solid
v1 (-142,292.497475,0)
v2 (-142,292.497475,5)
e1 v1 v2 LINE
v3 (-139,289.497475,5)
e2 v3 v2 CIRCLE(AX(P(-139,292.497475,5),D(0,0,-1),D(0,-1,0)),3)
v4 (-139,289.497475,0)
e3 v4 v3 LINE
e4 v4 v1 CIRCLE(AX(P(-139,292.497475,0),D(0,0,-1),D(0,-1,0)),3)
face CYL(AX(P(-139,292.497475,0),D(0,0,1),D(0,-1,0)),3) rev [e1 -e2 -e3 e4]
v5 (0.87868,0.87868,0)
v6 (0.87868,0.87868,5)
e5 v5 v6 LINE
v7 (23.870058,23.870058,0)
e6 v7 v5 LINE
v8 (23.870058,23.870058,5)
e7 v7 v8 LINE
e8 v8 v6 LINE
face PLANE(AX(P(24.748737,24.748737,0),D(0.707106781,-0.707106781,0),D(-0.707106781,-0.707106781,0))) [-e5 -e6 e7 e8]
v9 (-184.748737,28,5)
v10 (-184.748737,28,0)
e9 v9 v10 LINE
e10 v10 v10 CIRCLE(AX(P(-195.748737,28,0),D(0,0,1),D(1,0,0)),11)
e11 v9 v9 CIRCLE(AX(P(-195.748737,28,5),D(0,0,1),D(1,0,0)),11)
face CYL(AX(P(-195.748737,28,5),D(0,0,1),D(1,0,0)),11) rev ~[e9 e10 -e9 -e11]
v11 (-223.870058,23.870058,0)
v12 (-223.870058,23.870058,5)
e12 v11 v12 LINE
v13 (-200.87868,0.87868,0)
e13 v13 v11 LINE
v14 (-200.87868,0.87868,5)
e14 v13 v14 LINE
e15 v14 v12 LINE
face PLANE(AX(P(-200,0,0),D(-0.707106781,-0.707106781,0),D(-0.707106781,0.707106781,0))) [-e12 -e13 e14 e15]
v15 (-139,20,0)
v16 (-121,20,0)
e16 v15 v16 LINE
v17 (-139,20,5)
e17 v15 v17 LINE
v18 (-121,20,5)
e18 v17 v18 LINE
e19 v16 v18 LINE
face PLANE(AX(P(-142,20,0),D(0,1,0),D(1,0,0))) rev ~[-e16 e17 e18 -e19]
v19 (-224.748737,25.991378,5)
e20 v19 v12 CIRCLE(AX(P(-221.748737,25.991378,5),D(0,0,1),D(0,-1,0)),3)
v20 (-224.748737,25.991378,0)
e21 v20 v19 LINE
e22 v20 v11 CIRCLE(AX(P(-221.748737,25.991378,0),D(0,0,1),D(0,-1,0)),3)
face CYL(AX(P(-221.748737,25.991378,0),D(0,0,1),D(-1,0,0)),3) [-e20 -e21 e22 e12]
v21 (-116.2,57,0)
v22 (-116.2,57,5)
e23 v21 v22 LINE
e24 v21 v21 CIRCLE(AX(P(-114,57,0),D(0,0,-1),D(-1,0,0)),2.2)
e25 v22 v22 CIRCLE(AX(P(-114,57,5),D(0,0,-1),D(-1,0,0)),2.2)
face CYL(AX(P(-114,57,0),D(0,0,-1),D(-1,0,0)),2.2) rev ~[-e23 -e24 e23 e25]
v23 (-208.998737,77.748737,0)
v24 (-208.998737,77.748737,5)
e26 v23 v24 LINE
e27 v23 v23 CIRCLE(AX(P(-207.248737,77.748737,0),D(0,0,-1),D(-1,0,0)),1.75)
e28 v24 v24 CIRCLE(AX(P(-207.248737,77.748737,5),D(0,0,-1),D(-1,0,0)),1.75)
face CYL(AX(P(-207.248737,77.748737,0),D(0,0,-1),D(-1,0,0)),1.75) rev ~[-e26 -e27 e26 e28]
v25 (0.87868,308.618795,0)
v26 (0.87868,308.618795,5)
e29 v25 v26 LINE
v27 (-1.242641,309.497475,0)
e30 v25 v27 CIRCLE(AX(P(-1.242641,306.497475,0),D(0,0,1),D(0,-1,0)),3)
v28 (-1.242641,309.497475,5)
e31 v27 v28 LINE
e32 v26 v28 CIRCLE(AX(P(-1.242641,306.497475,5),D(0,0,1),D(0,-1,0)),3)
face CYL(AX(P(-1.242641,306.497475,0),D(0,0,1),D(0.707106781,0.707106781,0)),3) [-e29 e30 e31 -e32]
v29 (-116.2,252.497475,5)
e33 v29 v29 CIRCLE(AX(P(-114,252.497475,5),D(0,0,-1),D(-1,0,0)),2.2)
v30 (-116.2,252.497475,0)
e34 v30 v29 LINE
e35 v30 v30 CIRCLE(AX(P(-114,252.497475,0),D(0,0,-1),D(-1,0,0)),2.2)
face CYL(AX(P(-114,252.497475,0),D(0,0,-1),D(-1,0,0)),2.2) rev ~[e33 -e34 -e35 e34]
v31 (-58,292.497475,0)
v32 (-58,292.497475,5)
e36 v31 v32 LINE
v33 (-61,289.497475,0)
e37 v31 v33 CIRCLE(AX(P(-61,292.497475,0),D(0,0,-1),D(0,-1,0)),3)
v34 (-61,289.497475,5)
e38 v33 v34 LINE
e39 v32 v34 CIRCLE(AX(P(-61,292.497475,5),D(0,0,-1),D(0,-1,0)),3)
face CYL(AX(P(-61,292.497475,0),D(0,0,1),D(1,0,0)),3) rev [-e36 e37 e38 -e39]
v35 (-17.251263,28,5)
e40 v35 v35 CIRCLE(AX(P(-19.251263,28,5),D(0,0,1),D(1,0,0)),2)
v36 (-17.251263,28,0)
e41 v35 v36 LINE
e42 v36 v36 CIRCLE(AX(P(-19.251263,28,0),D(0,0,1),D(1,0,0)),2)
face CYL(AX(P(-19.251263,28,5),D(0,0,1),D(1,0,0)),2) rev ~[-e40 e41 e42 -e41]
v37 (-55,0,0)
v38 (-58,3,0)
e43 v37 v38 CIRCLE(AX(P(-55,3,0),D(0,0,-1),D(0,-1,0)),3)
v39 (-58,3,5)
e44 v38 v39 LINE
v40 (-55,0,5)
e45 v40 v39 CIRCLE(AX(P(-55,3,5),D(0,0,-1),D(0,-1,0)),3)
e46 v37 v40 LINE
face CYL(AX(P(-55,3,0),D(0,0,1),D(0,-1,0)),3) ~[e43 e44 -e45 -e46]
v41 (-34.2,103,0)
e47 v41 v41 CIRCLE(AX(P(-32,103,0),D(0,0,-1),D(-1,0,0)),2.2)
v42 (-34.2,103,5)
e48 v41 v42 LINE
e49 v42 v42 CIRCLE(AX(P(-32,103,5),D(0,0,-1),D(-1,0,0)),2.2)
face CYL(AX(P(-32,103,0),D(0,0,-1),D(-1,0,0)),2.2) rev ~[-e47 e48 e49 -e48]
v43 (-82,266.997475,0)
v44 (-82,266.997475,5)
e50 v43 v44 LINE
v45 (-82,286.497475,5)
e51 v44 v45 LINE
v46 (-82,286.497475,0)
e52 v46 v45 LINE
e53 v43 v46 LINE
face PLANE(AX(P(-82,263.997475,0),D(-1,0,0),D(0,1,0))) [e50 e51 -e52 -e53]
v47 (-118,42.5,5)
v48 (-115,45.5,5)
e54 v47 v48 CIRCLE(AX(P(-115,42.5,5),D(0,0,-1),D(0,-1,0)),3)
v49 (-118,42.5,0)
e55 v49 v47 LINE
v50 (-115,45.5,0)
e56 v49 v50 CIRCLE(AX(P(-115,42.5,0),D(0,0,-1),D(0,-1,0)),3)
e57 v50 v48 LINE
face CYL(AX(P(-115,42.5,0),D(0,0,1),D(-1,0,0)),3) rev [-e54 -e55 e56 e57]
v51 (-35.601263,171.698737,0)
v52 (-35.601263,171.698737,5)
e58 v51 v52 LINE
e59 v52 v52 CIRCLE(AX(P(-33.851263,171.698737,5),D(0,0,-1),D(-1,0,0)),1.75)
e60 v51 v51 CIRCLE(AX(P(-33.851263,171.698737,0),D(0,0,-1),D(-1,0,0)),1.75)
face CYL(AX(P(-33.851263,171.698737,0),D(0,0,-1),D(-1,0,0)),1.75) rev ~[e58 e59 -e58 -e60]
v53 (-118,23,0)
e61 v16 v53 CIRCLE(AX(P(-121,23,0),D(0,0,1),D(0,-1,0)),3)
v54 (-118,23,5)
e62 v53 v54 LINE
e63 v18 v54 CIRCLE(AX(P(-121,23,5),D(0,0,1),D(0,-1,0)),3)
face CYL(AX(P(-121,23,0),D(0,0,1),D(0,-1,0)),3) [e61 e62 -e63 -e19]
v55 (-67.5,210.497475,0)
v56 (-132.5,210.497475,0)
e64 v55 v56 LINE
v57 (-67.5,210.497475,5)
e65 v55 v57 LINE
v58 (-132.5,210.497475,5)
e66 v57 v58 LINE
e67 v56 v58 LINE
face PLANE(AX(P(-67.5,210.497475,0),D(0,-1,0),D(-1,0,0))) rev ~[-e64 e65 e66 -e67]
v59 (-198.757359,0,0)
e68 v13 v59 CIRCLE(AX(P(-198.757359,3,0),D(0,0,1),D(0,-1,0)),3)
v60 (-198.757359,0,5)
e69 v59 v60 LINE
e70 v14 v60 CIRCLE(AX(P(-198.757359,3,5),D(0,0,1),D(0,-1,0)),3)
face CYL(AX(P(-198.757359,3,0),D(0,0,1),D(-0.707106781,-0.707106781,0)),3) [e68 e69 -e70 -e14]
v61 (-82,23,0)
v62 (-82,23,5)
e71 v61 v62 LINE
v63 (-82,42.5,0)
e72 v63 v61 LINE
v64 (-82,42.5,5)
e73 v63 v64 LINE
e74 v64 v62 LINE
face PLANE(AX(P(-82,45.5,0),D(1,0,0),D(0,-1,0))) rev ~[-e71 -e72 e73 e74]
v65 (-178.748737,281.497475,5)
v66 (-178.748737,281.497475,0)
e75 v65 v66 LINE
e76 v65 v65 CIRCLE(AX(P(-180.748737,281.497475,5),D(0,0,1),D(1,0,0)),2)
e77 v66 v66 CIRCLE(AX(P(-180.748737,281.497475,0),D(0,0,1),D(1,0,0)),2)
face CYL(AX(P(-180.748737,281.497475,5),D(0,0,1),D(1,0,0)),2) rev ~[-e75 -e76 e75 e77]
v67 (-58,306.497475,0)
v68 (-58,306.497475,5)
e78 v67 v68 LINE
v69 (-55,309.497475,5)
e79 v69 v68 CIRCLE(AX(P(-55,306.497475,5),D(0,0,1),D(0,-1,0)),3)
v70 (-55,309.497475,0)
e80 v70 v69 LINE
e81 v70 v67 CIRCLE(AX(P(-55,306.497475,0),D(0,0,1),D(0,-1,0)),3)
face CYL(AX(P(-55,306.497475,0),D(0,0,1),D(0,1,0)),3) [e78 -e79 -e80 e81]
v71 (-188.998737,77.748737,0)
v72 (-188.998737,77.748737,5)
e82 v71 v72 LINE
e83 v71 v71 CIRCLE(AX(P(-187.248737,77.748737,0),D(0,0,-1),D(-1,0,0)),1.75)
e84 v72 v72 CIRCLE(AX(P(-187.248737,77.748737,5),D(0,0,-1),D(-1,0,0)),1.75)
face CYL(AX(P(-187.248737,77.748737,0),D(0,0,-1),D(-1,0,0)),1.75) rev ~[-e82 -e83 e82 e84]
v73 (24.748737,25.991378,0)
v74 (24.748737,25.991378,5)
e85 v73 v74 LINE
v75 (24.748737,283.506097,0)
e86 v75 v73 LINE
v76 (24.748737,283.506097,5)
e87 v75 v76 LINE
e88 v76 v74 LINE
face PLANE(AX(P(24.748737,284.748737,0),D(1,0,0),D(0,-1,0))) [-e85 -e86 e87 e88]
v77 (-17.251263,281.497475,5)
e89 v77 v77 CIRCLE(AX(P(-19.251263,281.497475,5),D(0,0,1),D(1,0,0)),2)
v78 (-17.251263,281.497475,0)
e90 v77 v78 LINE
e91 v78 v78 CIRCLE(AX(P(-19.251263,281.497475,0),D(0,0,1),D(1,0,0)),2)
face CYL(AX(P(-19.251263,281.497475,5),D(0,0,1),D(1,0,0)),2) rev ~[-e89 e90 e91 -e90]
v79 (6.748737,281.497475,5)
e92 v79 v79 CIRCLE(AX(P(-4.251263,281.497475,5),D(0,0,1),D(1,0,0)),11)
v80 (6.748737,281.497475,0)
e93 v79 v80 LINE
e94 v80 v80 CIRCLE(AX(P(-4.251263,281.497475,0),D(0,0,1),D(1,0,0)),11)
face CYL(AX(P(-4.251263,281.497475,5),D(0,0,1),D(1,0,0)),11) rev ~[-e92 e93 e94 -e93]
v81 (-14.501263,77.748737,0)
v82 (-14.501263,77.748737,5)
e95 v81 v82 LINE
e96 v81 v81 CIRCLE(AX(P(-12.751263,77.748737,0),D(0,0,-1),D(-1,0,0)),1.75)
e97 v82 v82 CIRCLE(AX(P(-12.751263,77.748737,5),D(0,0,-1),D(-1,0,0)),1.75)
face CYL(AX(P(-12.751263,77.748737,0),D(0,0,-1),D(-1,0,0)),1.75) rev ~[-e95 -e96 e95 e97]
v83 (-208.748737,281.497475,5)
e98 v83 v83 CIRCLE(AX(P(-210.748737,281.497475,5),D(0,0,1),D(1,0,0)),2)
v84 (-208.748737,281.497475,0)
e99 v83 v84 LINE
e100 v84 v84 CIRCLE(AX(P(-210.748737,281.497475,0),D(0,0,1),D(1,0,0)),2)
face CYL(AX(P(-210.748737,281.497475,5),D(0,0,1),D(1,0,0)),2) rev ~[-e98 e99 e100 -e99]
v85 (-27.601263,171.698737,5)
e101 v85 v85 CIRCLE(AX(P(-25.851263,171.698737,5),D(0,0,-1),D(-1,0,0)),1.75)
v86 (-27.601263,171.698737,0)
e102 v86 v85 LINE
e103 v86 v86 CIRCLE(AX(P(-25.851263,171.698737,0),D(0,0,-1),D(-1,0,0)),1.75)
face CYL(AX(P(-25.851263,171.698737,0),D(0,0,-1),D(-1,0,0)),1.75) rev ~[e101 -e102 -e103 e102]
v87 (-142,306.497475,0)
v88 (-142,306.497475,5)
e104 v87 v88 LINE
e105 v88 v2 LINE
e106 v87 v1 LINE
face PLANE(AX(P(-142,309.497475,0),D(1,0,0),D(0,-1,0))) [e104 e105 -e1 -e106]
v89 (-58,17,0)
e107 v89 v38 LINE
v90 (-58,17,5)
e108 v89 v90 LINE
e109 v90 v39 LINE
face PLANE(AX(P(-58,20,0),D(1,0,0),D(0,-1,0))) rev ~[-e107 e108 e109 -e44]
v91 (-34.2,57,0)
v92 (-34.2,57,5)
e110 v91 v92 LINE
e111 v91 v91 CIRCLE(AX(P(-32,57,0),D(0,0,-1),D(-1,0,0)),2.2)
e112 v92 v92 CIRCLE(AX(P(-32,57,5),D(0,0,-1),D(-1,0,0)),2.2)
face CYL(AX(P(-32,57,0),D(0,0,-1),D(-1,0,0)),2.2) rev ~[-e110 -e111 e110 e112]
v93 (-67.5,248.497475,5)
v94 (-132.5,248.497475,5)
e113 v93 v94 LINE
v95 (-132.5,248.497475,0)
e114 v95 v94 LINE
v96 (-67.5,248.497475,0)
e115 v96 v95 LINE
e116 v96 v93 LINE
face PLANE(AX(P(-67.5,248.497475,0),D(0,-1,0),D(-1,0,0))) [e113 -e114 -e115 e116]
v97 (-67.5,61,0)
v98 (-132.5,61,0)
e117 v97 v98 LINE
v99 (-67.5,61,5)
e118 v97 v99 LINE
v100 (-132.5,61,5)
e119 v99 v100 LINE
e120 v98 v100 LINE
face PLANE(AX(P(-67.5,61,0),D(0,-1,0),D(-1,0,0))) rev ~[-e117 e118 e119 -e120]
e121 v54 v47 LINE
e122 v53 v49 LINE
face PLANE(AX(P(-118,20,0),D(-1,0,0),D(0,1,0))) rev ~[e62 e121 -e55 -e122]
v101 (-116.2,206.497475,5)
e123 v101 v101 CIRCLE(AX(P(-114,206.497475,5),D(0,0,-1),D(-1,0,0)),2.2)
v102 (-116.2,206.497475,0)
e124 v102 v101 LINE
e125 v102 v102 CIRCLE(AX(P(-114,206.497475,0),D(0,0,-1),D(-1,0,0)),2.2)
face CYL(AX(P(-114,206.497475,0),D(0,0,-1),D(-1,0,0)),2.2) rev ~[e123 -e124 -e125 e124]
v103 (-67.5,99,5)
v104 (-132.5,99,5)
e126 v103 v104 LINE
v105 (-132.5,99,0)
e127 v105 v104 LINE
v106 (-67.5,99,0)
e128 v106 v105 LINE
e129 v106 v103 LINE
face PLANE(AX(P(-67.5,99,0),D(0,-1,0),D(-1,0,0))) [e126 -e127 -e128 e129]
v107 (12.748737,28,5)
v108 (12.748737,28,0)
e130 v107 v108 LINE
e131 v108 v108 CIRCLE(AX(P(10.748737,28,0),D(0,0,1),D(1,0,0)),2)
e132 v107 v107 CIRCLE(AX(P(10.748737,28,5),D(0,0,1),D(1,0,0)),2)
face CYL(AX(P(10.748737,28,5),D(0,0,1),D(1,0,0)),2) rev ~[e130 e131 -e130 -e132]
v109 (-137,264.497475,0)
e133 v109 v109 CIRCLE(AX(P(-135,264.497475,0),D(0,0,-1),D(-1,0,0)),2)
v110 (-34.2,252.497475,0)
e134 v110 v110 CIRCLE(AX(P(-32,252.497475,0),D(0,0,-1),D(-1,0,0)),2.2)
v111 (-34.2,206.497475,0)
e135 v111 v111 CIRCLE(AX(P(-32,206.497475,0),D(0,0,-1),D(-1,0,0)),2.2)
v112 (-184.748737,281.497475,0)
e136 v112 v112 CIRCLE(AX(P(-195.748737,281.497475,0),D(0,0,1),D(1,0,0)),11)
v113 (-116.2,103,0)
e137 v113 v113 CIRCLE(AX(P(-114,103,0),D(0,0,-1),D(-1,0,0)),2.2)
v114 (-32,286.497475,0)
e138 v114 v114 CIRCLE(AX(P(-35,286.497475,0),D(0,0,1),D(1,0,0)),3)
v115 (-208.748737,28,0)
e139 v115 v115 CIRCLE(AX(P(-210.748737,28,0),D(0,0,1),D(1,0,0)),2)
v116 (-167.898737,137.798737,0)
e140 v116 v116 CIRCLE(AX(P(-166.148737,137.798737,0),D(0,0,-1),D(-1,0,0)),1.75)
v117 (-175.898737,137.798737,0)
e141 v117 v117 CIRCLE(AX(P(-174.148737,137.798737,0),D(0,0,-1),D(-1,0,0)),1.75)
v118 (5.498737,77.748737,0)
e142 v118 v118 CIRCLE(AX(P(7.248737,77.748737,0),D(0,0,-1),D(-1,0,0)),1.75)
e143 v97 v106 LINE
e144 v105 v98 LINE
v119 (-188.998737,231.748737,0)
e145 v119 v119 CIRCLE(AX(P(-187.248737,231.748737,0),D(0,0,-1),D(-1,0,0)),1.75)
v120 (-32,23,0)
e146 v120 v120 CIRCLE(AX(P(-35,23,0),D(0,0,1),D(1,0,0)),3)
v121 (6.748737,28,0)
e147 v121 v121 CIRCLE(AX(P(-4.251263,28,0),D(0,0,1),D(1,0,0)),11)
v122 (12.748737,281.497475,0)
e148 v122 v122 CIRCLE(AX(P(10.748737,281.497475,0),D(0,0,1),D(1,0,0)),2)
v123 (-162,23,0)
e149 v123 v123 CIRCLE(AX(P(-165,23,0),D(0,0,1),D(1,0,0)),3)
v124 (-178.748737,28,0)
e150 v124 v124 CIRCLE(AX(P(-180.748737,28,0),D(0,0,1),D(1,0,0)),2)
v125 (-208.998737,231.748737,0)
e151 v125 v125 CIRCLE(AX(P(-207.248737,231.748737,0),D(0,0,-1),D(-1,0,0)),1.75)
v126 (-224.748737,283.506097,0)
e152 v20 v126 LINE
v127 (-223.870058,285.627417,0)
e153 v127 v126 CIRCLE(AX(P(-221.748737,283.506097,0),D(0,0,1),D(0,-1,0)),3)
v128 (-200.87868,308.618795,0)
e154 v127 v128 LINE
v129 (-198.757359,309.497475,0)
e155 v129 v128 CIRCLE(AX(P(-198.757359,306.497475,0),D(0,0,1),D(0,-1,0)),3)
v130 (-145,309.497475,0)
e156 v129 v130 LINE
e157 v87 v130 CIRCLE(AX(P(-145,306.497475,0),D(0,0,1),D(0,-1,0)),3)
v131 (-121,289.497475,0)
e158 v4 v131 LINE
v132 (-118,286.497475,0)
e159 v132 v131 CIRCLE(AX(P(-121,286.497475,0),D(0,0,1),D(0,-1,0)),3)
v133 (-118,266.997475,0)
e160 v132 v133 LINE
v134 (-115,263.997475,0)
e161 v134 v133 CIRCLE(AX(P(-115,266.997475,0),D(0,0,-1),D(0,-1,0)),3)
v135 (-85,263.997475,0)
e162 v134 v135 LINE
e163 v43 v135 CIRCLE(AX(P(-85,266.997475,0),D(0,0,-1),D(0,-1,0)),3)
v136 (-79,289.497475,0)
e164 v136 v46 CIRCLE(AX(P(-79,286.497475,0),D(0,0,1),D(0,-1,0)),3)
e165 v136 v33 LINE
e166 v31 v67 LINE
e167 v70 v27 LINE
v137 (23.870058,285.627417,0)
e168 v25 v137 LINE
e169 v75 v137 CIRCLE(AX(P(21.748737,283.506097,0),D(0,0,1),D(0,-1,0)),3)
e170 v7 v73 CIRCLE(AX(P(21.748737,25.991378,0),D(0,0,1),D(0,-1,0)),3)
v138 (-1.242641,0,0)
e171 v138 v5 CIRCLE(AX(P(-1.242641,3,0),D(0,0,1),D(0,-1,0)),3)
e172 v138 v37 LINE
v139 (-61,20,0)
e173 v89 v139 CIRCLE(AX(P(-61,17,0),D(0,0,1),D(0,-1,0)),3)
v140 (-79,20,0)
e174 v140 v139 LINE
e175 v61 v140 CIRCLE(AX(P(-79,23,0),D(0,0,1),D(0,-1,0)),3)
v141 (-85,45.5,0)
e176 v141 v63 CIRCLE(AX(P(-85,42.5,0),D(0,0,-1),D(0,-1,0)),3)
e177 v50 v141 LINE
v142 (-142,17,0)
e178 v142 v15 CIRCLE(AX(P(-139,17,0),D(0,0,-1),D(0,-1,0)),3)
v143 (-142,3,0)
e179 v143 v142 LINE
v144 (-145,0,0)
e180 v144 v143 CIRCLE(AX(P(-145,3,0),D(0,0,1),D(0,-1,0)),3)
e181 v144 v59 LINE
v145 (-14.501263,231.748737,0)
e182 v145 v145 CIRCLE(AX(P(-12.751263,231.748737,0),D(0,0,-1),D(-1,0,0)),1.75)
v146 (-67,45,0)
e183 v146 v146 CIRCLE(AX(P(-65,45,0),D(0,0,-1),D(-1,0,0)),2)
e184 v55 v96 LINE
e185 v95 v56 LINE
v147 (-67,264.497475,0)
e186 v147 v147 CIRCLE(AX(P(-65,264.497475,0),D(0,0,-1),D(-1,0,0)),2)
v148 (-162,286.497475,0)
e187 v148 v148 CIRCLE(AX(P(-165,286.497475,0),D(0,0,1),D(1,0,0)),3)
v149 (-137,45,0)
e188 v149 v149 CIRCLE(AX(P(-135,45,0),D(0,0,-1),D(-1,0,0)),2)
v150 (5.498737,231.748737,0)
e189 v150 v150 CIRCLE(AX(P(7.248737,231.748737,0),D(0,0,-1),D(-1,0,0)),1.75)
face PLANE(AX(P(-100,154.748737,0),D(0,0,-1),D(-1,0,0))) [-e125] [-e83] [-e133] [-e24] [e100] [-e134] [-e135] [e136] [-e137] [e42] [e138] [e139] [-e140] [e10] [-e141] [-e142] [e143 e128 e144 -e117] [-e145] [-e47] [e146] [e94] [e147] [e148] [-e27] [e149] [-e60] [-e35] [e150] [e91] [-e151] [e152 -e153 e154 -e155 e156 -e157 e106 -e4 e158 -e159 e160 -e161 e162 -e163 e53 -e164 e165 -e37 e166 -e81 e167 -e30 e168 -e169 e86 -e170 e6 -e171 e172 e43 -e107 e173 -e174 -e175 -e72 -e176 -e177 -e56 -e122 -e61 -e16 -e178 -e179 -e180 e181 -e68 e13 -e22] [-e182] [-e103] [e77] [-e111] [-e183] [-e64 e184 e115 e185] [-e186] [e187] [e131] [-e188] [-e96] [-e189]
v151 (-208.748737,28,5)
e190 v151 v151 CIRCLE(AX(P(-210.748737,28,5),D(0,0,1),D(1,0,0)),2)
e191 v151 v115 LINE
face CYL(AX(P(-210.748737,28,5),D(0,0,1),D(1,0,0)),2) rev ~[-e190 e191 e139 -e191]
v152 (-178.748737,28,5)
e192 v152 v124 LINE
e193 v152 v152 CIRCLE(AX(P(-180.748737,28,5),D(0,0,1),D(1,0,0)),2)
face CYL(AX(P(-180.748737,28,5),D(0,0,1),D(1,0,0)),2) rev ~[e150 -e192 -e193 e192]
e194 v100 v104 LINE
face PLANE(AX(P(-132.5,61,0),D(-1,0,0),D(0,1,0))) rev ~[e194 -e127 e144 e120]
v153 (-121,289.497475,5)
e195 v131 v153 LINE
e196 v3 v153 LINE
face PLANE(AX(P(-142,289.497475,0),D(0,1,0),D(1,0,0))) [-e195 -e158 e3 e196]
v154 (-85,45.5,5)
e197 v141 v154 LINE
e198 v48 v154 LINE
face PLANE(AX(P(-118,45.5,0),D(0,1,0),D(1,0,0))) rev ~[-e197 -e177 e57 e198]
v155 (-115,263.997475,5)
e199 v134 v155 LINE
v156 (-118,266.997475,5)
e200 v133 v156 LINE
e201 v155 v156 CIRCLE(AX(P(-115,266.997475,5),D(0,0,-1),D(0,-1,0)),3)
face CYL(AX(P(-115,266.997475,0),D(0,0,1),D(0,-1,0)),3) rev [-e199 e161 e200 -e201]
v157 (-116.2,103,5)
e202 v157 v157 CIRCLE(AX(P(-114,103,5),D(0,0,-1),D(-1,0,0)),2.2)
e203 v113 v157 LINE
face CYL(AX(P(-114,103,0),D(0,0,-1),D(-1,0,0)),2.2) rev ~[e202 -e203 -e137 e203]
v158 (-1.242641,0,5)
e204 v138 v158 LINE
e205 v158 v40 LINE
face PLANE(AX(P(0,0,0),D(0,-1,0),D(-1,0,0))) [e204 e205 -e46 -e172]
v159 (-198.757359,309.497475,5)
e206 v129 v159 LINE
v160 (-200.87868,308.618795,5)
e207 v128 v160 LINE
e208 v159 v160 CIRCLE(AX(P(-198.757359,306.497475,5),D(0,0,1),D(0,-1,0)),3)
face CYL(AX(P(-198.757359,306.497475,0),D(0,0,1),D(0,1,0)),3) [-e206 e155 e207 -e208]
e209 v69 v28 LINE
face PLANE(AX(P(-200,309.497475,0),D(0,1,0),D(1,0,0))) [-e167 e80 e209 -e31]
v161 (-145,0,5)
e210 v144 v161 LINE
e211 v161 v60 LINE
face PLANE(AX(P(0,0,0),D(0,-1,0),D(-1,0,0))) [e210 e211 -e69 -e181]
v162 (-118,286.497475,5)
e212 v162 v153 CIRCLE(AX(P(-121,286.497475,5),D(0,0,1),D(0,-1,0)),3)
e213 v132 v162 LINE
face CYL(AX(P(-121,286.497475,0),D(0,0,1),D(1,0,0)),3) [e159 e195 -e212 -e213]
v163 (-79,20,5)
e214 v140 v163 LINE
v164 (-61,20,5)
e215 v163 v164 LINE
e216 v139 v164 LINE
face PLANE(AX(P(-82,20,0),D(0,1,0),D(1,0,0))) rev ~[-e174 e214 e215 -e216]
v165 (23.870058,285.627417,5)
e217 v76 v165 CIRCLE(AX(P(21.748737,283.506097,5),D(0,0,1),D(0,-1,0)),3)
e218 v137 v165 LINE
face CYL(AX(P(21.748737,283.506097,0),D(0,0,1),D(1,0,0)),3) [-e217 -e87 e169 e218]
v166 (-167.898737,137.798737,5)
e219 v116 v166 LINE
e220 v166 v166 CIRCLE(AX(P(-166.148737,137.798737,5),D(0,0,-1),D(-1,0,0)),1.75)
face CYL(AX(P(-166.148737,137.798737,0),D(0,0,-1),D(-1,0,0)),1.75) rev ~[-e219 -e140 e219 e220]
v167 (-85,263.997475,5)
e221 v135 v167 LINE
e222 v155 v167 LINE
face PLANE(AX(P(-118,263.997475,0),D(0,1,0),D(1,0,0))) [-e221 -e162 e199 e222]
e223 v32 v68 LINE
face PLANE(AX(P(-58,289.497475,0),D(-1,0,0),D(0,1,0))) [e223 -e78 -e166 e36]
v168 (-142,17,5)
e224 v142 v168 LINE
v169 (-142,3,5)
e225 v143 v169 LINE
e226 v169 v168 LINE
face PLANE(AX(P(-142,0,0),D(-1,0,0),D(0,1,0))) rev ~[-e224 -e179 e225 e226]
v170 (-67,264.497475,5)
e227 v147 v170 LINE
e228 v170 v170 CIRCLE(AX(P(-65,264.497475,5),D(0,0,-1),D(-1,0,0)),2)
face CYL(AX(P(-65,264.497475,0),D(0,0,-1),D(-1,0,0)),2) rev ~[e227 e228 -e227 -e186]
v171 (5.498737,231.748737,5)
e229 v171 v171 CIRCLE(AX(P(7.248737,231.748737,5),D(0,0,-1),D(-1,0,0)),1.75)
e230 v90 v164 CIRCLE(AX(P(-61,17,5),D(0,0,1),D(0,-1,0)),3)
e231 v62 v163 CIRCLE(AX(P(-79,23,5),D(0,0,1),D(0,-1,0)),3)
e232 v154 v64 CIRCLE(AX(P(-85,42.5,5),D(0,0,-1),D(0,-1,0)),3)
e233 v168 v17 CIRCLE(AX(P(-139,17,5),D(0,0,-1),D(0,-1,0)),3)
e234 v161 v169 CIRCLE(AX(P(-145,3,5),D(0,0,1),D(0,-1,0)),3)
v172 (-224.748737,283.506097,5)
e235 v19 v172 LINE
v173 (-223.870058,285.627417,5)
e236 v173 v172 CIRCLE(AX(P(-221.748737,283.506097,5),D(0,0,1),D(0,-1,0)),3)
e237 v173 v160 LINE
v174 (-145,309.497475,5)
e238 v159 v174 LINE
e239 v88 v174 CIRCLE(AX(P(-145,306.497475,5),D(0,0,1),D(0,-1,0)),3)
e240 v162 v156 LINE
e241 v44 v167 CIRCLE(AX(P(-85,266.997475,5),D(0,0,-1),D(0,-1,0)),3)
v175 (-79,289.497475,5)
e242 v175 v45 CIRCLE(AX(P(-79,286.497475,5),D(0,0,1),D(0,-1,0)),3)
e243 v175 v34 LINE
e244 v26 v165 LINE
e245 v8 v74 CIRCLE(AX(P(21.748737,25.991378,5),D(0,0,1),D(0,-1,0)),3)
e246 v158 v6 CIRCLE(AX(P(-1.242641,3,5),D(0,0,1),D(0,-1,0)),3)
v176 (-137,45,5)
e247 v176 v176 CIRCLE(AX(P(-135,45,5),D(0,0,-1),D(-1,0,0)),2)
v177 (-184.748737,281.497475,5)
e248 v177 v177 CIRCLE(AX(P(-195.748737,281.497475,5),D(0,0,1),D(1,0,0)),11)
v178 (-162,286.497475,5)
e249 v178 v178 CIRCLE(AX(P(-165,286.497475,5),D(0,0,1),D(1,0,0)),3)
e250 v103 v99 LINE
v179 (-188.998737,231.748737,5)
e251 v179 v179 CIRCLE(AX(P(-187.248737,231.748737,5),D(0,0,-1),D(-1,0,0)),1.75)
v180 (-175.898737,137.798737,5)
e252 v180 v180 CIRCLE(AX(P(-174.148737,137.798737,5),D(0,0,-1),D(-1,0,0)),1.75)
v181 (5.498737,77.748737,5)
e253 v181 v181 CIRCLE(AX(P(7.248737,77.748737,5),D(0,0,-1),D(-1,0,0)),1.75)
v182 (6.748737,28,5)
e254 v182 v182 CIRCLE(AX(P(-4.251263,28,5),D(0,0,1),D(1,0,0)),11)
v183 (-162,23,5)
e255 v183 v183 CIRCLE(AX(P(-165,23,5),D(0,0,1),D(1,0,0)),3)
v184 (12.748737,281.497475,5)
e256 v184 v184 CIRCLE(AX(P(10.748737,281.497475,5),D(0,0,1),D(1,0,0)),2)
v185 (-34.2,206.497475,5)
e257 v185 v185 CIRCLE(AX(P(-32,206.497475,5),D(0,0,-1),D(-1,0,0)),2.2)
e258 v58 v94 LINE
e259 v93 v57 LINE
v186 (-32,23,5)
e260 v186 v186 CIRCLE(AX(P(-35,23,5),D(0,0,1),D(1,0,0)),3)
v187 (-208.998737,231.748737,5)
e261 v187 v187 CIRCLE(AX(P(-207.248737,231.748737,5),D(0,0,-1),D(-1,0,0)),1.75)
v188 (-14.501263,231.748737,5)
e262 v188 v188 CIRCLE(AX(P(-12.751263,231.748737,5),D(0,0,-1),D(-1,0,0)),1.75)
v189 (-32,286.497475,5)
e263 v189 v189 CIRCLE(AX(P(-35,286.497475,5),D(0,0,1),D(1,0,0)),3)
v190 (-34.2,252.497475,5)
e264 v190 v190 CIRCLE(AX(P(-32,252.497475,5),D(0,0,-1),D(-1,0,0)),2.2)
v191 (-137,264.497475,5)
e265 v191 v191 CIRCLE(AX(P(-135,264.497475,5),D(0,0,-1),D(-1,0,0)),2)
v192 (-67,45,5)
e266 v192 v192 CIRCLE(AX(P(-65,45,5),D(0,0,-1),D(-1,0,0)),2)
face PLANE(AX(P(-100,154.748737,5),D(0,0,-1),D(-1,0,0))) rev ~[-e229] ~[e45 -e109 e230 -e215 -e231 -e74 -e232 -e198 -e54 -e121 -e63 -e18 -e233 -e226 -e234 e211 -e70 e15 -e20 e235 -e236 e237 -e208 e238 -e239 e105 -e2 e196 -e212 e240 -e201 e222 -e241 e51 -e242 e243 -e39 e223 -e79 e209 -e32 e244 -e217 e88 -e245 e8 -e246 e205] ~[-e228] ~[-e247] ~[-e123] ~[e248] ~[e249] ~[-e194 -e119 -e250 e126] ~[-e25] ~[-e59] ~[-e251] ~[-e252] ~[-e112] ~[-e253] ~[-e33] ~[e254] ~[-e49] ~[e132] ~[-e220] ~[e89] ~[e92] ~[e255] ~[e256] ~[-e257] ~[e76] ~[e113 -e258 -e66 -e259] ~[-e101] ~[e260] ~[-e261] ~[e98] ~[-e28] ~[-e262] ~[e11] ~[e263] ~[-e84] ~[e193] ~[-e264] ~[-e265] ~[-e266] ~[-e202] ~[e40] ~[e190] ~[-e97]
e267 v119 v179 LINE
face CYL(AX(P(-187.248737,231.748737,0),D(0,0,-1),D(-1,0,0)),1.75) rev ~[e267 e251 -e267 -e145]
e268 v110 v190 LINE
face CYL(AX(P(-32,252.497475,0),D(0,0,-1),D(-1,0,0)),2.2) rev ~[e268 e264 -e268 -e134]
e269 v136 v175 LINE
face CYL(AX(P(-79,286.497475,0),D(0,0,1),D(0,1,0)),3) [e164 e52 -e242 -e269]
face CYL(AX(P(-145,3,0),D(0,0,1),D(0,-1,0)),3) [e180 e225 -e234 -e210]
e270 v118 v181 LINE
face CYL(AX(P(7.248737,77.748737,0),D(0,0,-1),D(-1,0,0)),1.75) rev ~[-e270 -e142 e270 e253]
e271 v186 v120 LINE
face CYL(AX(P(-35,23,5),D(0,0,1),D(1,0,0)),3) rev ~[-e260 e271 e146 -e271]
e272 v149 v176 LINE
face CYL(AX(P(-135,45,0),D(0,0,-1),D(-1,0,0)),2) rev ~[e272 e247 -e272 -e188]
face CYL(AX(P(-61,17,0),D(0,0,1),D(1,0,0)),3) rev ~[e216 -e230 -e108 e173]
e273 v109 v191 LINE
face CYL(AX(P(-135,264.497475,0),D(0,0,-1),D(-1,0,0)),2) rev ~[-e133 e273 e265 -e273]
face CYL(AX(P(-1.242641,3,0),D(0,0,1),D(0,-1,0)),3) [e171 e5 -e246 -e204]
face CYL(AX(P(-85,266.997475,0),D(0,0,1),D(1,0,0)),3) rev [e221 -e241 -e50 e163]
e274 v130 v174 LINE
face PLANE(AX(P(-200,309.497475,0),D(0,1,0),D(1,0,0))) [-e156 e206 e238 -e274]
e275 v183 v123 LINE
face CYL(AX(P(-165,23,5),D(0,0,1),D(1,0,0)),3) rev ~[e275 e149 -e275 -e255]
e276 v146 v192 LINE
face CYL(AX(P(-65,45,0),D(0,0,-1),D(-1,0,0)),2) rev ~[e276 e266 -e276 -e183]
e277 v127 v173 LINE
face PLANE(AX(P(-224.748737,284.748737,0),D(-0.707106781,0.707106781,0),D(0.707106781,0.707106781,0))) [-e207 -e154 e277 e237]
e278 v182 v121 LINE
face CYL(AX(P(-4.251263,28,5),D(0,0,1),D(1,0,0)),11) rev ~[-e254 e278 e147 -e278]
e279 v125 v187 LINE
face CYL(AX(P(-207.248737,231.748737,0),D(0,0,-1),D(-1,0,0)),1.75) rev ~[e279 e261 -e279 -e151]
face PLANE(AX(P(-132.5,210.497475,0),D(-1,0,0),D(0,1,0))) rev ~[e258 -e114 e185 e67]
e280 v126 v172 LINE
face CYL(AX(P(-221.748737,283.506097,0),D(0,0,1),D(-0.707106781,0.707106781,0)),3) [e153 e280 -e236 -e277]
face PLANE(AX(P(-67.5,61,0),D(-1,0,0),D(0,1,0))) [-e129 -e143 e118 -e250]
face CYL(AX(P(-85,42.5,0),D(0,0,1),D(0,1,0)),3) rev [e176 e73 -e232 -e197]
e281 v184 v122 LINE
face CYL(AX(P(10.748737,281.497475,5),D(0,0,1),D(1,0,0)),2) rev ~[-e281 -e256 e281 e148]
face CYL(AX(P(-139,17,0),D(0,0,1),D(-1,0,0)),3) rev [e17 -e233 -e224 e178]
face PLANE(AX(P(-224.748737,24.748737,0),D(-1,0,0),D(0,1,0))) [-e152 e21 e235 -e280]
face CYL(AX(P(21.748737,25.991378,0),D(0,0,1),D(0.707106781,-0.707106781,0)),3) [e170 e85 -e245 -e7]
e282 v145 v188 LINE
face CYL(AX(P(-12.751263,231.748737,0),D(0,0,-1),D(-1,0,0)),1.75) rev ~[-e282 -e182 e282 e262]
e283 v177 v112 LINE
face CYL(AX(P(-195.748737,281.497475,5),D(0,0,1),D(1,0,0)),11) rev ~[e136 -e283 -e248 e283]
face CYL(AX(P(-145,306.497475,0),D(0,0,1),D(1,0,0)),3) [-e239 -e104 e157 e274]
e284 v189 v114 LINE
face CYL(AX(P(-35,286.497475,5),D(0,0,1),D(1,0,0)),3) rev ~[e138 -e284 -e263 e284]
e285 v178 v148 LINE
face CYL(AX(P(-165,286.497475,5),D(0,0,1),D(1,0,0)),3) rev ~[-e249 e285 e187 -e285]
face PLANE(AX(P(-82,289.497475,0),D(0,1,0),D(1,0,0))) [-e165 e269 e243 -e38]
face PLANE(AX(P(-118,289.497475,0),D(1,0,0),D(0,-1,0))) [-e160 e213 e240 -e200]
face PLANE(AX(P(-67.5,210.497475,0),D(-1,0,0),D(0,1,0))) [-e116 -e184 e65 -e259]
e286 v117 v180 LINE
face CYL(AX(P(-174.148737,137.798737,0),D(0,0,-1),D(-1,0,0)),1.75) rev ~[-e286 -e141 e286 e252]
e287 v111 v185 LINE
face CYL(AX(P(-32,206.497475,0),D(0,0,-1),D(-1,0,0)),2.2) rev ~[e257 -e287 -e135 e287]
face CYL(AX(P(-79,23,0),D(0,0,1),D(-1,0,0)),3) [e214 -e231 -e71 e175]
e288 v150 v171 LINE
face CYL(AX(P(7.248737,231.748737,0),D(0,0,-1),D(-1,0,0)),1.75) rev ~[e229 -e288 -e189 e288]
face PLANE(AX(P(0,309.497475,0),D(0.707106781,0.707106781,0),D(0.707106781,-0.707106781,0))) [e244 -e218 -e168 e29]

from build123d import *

# Parameters (mm, degrees)
BASE_DEPTH                            = 5
ESQUISSE3_R                           = 2
ESQUISSE3_W                           = 65
ESQUISSE3_H                           = 30
PER_AGE_ROUES_ENCODEUSES_DEPTH        = 6
CONG_1_R                              = 3
PER_AGE_BILLES_PORTEUSES_REACH        = 7
ESQUISSE6_R                           = 2
ESQUISSE6_R_2                         = 11
PER_AGE_PROFIL_S_REACH                = 7
ESQUISSE8_R                           = 3
ESQUISSE15_R                          = 2.2
PER_AGE_BLOC_MOTEUR_DEPTH             = 5
ESQUISSE16_W                          = 65
ESQUISSE16_H                          = 38
ENL_V_MAT_EXTRU_1_DEPTH               = 6
ESQUISSE19_R                          = 1.75
PER_AGE_ACTIONNEUR_MAIN_DE_DIEU_DEPTH = 6


with BuildPart() as part:
    # Esquisse1 → Base (new body)
    with BuildSketch(Plane.XY):
        Polygon((0, 0), (-200, 0), (-224.748737342, 24.748737342), (-224.748737342, 284.748737342), (-200, 309.497474683), (0, 309.497474683), (24.748737342, 284.748737342), (24.748737342, 24.748737342), align=None)
    extrude(amount=BASE_DEPTH)

    # Esquisse3 → Perçage roues encodeuses (cut, through all)
    with BuildSketch(Plane(origin=(0, 0, 0), x_dir=(-1, 0, 0), z_dir=(0, 0, -1))):
        with Locations((65, 45)):
            Circle(ESQUISSE3_R)
        with Locations((135, 45)):
            Circle(ESQUISSE3_R)
        with Locations((135, 264.497474683)):
            Circle(ESQUISSE3_R)
        with Locations((65, 264.497474683)):
            Circle(ESQUISSE3_R)
        Polygon((142, 0), (142, 20), (118, 20), (118, 45.5), (82, 45.5), (82, 20), (58, 20), (58, 0), align=None)
        Polygon((58, 309.497474683), (142, 309.497474683), (142, 289.497474683), (118, 289.497474683), (118, 263.997474683), (82, 263.997474683), (82, 289.497474683), (58, 289.497474683), align=None)
        with Locations((100, 229.497474683)):
            Rectangle(ESQUISSE3_W, ESQUISSE3_H)
        with Locations((100, 80)):
            Rectangle(ESQUISSE3_W, ESQUISSE3_H)
    extrude(amount=-PER_AGE_ROUES_ENCODEUSES_DEPTH, mode=Mode.SUBTRACT)

    # Congé1
    cong_1_edges = [part.edges().sort_by_distance(p)[0] for p in [
        (0, 0, 2.5),
        (-200, 0, 2.5),
        (-224.748737342, 24.748737342, 2.5),
        (-224.748737342, 284.748737342, 2.5),
        (-200, 309.497474683, 2.5),
        (0, 309.497474683, 2.5),
        (24.748737342, 284.748737342, 2.5),
        (24.748737342, 24.748737342, 2.5),
        (-58, 289.497474683, 2.5),
        (-58, 309.497474683, 2.5),
        (-142, 309.497474683, 2.5),
        (-142, 289.497474683, 2.5),
        (-118, 289.497474683, 2.5),
        (-118, 263.997474683, 2.5),
        (-82, 263.997474683, 2.5),
        (-82, 289.497474683, 2.5),
        (-142, 0, 2.5),
        (-58, 0, 2.5),
        (-58, 20, 2.5),
        (-82, 20, 2.5),
        (-82, 45.5, 2.5),
        (-118, 45.5, 2.5),
        (-118, 20, 2.5),
        (-142, 20, 2.5),
    ]]
    fillet(cong_1_edges, radius=CONG_1_R)

    # Esquisse6 → Perçage billes porteuses (cut, up to next)
    with BuildSketch(Plane.XY.offset(5), mode=Mode.PRIVATE) as per_age_billes_porteuses_sk1:
        with Locations((-180.748737342, 28)):
            Circle(ESQUISSE6_R)
    per_age_billes_porteuses_tool1 = extrude(per_age_billes_porteuses_sk1.sketch, amount=-PER_AGE_BILLES_PORTEUSES_REACH, mode=Mode.PRIVATE) & part.part
    add(per_age_billes_porteuses_tool1.solids().sort_by_distance((-180.748737, 28, 5))[0], mode=Mode.SUBTRACT)
    # Esquisse6 → Perçage billes porteuses (cut, up to next)
    with BuildSketch(Plane.XY.offset(5), mode=Mode.PRIVATE) as per_age_billes_porteuses_sk2:
        with Locations((-210.748737342, 28)):
            Circle(ESQUISSE6_R)
    per_age_billes_porteuses_tool2 = extrude(per_age_billes_porteuses_sk2.sketch, amount=-PER_AGE_BILLES_PORTEUSES_REACH, mode=Mode.PRIVATE) & part.part
    add(per_age_billes_porteuses_tool2.solids().sort_by_distance((-210.748737, 28, 5))[0], mode=Mode.SUBTRACT)
    # Esquisse6 → Perçage billes porteuses (cut, up to next)
    with BuildSketch(Plane.XY.offset(5), mode=Mode.PRIVATE) as per_age_billes_porteuses_sk3:
        with Locations((-195.748737342, 28)):
            Circle(ESQUISSE6_R_2)
    per_age_billes_porteuses_tool3 = extrude(per_age_billes_porteuses_sk3.sketch, amount=-PER_AGE_BILLES_PORTEUSES_REACH, mode=Mode.PRIVATE) & part.part
    add(per_age_billes_porteuses_tool3.solids().sort_by_distance((-195.748737, 28, 5))[0], mode=Mode.SUBTRACT)
    # Esquisse6 → Perçage billes porteuses (cut, up to next)
    with BuildSketch(Plane.XY.offset(5), mode=Mode.PRIVATE) as per_age_billes_porteuses_sk4:
        with Locations((-19.251262658, 28)):
            Circle(ESQUISSE6_R)
    per_age_billes_porteuses_tool4 = extrude(per_age_billes_porteuses_sk4.sketch, amount=-PER_AGE_BILLES_PORTEUSES_REACH, mode=Mode.PRIVATE) & part.part
    add(per_age_billes_porteuses_tool4.solids().sort_by_distance((-19.251263, 28, 5))[0], mode=Mode.SUBTRACT)
    # Esquisse6 → Perçage billes porteuses (cut, up to next)
    with BuildSketch(Plane.XY.offset(5), mode=Mode.PRIVATE) as per_age_billes_porteuses_sk5:
        with Locations((10.748737342, 28)):
            Circle(ESQUISSE6_R)
    per_age_billes_porteuses_tool5 = extrude(per_age_billes_porteuses_sk5.sketch, amount=-PER_AGE_BILLES_PORTEUSES_REACH, mode=Mode.PRIVATE) & part.part
    add(per_age_billes_porteuses_tool5.solids().sort_by_distance((10.748737, 28, 5))[0], mode=Mode.SUBTRACT)
    # Esquisse6 → Perçage billes porteuses (cut, up to next)
    with BuildSketch(Plane.XY.offset(5), mode=Mode.PRIVATE) as per_age_billes_porteuses_sk6:
        with Locations((-4.251262658, 28)):
            Circle(ESQUISSE6_R_2)
    per_age_billes_porteuses_tool6 = extrude(per_age_billes_porteuses_sk6.sketch, amount=-PER_AGE_BILLES_PORTEUSES_REACH, mode=Mode.PRIVATE) & part.part
    add(per_age_billes_porteuses_tool6.solids().sort_by_distance((-4.251263, 28, 5))[0], mode=Mode.SUBTRACT)
    # Esquisse6 → Perçage billes porteuses (cut, up to next)
    with BuildSketch(Plane.XY.offset(5), mode=Mode.PRIVATE) as per_age_billes_porteuses_sk7:
        with Locations((-4.251262658, 281.497474683)):
            Circle(ESQUISSE6_R_2)
    per_age_billes_porteuses_tool7 = extrude(per_age_billes_porteuses_sk7.sketch, amount=-PER_AGE_BILLES_PORTEUSES_REACH, mode=Mode.PRIVATE) & part.part
    add(per_age_billes_porteuses_tool7.solids().sort_by_distance((-4.251263, 281.497475, 5))[0], mode=Mode.SUBTRACT)
    # Esquisse6 → Perçage billes porteuses (cut, up to next)
    with BuildSketch(Plane.XY.offset(5), mode=Mode.PRIVATE) as per_age_billes_porteuses_sk8:
        with Locations((10.748737342, 281.497474683)):
            Circle(ESQUISSE6_R)
    per_age_billes_porteuses_tool8 = extrude(per_age_billes_porteuses_sk8.sketch, amount=-PER_AGE_BILLES_PORTEUSES_REACH, mode=Mode.PRIVATE) & part.part
    add(per_age_billes_porteuses_tool8.solids().sort_by_distance((10.748737, 281.497475, 5))[0], mode=Mode.SUBTRACT)
    # Esquisse6 → Perçage billes porteuses (cut, up to next)
    with BuildSketch(Plane.XY.offset(5), mode=Mode.PRIVATE) as per_age_billes_porteuses_sk9:
        with Locations((-19.251262658, 281.497474683)):
            Circle(ESQUISSE6_R)
    per_age_billes_porteuses_tool9 = extrude(per_age_billes_porteuses_sk9.sketch, amount=-PER_AGE_BILLES_PORTEUSES_REACH, mode=Mode.PRIVATE) & part.part
    add(per_age_billes_porteuses_tool9.solids().sort_by_distance((-19.251263, 281.497475, 5))[0], mode=Mode.SUBTRACT)
    # Esquisse6 → Perçage billes porteuses (cut, up to next)
    with BuildSketch(Plane.XY.offset(5), mode=Mode.PRIVATE) as per_age_billes_porteuses_sk10:
        with Locations((-195.748737342, 281.497474683)):
            Circle(ESQUISSE6_R_2)
    per_age_billes_porteuses_tool10 = extrude(per_age_billes_porteuses_sk10.sketch, amount=-PER_AGE_BILLES_PORTEUSES_REACH, mode=Mode.PRIVATE) & part.part
    add(per_age_billes_porteuses_tool10.solids().sort_by_distance((-195.748737, 281.497475, 5))[0], mode=Mode.SUBTRACT)
    # Esquisse6 → Perçage billes porteuses (cut, up to next)
    with BuildSketch(Plane.XY.offset(5), mode=Mode.PRIVATE) as per_age_billes_porteuses_sk11:
        with Locations((-210.748737342, 281.497474683)):
            Circle(ESQUISSE6_R)
    per_age_billes_porteuses_tool11 = extrude(per_age_billes_porteuses_sk11.sketch, amount=-PER_AGE_BILLES_PORTEUSES_REACH, mode=Mode.PRIVATE) & part.part
    add(per_age_billes_porteuses_tool11.solids().sort_by_distance((-210.748737, 281.497475, 5))[0], mode=Mode.SUBTRACT)
    # Esquisse6 → Perçage billes porteuses (cut, up to next)
    with BuildSketch(Plane.XY.offset(5), mode=Mode.PRIVATE) as per_age_billes_porteuses_sk12:
        with Locations((-180.748737342, 281.497474683)):
            Circle(ESQUISSE6_R)
    per_age_billes_porteuses_tool12 = extrude(per_age_billes_porteuses_sk12.sketch, amount=-PER_AGE_BILLES_PORTEUSES_REACH, mode=Mode.PRIVATE) & part.part
    add(per_age_billes_porteuses_tool12.solids().sort_by_distance((-180.748737, 281.497475, 5))[0], mode=Mode.SUBTRACT)

    # Esquisse8 → Perçage profilés (cut, up to next)
    with BuildSketch(Plane.XY.offset(5), mode=Mode.PRIVATE) as per_age_profil_s_sk1:
        with Locations((-165, 23)):
            Circle(ESQUISSE8_R)
    per_age_profil_s_tool1 = extrude(per_age_profil_s_sk1.sketch, amount=-PER_AGE_PROFIL_S_REACH, mode=Mode.PRIVATE) & part.part
    add(per_age_profil_s_tool1.solids().sort_by_distance((-165, 23, 5))[0], mode=Mode.SUBTRACT)
    # Esquisse8 → Perçage profilés (cut, up to next)
    with BuildSketch(Plane.XY.offset(5), mode=Mode.PRIVATE) as per_age_profil_s_sk2:
        with Locations((-165, 286.497474683)):
            Circle(ESQUISSE8_R)
    per_age_profil_s_tool2 = extrude(per_age_profil_s_sk2.sketch, amount=-PER_AGE_PROFIL_S_REACH, mode=Mode.PRIVATE) & part.part
    add(per_age_profil_s_tool2.solids().sort_by_distance((-165, 286.497475, 5))[0], mode=Mode.SUBTRACT)
    # Esquisse8 → Perçage profilés (cut, up to next)
    with BuildSketch(Plane.XY.offset(5), mode=Mode.PRIVATE) as per_age_profil_s_sk3:
        with Locations((-35, 286.497474683)):
            Circle(ESQUISSE8_R)
    per_age_profil_s_tool3 = extrude(per_age_profil_s_sk3.sketch, amount=-PER_AGE_PROFIL_S_REACH, mode=Mode.PRIVATE) & part.part
    add(per_age_profil_s_tool3.solids().sort_by_distance((-35, 286.497475, 5))[0], mode=Mode.SUBTRACT)
    # Esquisse8 → Perçage profilés (cut, up to next)
    with BuildSketch(Plane.XY.offset(5), mode=Mode.PRIVATE) as per_age_profil_s_sk4:
        with Locations((-35, 23)):
            Circle(ESQUISSE8_R)
    per_age_profil_s_tool4 = extrude(per_age_profil_s_sk4.sketch, amount=-PER_AGE_PROFIL_S_REACH, mode=Mode.PRIVATE) & part.part
    add(per_age_profil_s_tool4.solids().sort_by_distance((-35, 23, 5))[0], mode=Mode.SUBTRACT)

    # Esquisse15 → Perçage bloc moteur (cut)
    with BuildSketch(Plane(origin=(0, 0, 0), x_dir=(-1, 0, 0), z_dir=(0, 0, -1))):
        with Locations((114, 103)):
            Circle(ESQUISSE15_R)
        with Locations((32, 103)):
            Circle(ESQUISSE15_R)
        with Locations((114, 57)):
            Circle(ESQUISSE15_R)
        with Locations((32, 57)):
            Circle(ESQUISSE15_R)
        with Locations((32, 252.497474683)):
            Circle(ESQUISSE15_R)
        with Locations((114, 252.497474683)):
            Circle(ESQUISSE15_R)
        with Locations((114, 206.497474683)):
            Circle(ESQUISSE15_R)
        with Locations((32, 206.497474683)):
            Circle(ESQUISSE15_R)
    extrude(amount=-PER_AGE_BLOC_MOTEUR_DEPTH, mode=Mode.SUBTRACT)

    # Esquisse16 → Enlèv. mat.-Extru.1 (cut, through all)
    with BuildSketch(Plane(origin=(0, 0, 0), x_dir=(-1, 0, 0), z_dir=(0, 0, -1))):
        with Locations((100, 80)):
            Rectangle(ESQUISSE16_W, ESQUISSE16_H)
        with Locations((100, 229.497474683)):
            Rectangle(ESQUISSE16_W, ESQUISSE16_H)
    extrude(amount=-ENL_V_MAT_EXTRU_1_DEPTH, mode=Mode.SUBTRACT)

    # Esquisse19 → Perçage actionneur Main_De_Dieu (cut, through all)
    with BuildSketch(Plane(origin=(0, 0, 0), x_dir=(-1, 0, 0), z_dir=(0, 0, -1))):
        with Locations((166.148737342, 137.798737342)):
            Circle(ESQUISSE19_R)
        with Locations((174.148737342, 137.798737342)):
            Circle(ESQUISSE19_R)
        with Locations((-7.248737342, 231.748737342)):
            Circle(ESQUISSE19_R)
        with Locations((12.751262658, 231.748737342)):
            Circle(ESQUISSE19_R)
        with Locations((12.751262658, 77.748737342)):
            Circle(ESQUISSE19_R)
        with Locations((-7.248737342, 77.748737342)):
            Circle(ESQUISSE19_R)
        with Locations((187.248737342, 77.748737342)):
            Circle(ESQUISSE19_R)
        with Locations((207.248737342, 77.748737342)):
            Circle(ESQUISSE19_R)
        with Locations((207.248737342, 231.748737342)):
            Circle(ESQUISSE19_R)
        with Locations((187.248737342, 231.748737342)):
            Circle(ESQUISSE19_R)
        with Locations((25.851262658, 171.698737342)):
            Circle(ESQUISSE19_R)
        with Locations((33.851262658, 171.698737342)):
            Circle(ESQUISSE19_R)
    extrude(amount=-PER_AGE_ACTIONNEUR_MAIN_DE_DIEU_DEPTH, mode=Mode.SUBTRACT)


solid = part.part
